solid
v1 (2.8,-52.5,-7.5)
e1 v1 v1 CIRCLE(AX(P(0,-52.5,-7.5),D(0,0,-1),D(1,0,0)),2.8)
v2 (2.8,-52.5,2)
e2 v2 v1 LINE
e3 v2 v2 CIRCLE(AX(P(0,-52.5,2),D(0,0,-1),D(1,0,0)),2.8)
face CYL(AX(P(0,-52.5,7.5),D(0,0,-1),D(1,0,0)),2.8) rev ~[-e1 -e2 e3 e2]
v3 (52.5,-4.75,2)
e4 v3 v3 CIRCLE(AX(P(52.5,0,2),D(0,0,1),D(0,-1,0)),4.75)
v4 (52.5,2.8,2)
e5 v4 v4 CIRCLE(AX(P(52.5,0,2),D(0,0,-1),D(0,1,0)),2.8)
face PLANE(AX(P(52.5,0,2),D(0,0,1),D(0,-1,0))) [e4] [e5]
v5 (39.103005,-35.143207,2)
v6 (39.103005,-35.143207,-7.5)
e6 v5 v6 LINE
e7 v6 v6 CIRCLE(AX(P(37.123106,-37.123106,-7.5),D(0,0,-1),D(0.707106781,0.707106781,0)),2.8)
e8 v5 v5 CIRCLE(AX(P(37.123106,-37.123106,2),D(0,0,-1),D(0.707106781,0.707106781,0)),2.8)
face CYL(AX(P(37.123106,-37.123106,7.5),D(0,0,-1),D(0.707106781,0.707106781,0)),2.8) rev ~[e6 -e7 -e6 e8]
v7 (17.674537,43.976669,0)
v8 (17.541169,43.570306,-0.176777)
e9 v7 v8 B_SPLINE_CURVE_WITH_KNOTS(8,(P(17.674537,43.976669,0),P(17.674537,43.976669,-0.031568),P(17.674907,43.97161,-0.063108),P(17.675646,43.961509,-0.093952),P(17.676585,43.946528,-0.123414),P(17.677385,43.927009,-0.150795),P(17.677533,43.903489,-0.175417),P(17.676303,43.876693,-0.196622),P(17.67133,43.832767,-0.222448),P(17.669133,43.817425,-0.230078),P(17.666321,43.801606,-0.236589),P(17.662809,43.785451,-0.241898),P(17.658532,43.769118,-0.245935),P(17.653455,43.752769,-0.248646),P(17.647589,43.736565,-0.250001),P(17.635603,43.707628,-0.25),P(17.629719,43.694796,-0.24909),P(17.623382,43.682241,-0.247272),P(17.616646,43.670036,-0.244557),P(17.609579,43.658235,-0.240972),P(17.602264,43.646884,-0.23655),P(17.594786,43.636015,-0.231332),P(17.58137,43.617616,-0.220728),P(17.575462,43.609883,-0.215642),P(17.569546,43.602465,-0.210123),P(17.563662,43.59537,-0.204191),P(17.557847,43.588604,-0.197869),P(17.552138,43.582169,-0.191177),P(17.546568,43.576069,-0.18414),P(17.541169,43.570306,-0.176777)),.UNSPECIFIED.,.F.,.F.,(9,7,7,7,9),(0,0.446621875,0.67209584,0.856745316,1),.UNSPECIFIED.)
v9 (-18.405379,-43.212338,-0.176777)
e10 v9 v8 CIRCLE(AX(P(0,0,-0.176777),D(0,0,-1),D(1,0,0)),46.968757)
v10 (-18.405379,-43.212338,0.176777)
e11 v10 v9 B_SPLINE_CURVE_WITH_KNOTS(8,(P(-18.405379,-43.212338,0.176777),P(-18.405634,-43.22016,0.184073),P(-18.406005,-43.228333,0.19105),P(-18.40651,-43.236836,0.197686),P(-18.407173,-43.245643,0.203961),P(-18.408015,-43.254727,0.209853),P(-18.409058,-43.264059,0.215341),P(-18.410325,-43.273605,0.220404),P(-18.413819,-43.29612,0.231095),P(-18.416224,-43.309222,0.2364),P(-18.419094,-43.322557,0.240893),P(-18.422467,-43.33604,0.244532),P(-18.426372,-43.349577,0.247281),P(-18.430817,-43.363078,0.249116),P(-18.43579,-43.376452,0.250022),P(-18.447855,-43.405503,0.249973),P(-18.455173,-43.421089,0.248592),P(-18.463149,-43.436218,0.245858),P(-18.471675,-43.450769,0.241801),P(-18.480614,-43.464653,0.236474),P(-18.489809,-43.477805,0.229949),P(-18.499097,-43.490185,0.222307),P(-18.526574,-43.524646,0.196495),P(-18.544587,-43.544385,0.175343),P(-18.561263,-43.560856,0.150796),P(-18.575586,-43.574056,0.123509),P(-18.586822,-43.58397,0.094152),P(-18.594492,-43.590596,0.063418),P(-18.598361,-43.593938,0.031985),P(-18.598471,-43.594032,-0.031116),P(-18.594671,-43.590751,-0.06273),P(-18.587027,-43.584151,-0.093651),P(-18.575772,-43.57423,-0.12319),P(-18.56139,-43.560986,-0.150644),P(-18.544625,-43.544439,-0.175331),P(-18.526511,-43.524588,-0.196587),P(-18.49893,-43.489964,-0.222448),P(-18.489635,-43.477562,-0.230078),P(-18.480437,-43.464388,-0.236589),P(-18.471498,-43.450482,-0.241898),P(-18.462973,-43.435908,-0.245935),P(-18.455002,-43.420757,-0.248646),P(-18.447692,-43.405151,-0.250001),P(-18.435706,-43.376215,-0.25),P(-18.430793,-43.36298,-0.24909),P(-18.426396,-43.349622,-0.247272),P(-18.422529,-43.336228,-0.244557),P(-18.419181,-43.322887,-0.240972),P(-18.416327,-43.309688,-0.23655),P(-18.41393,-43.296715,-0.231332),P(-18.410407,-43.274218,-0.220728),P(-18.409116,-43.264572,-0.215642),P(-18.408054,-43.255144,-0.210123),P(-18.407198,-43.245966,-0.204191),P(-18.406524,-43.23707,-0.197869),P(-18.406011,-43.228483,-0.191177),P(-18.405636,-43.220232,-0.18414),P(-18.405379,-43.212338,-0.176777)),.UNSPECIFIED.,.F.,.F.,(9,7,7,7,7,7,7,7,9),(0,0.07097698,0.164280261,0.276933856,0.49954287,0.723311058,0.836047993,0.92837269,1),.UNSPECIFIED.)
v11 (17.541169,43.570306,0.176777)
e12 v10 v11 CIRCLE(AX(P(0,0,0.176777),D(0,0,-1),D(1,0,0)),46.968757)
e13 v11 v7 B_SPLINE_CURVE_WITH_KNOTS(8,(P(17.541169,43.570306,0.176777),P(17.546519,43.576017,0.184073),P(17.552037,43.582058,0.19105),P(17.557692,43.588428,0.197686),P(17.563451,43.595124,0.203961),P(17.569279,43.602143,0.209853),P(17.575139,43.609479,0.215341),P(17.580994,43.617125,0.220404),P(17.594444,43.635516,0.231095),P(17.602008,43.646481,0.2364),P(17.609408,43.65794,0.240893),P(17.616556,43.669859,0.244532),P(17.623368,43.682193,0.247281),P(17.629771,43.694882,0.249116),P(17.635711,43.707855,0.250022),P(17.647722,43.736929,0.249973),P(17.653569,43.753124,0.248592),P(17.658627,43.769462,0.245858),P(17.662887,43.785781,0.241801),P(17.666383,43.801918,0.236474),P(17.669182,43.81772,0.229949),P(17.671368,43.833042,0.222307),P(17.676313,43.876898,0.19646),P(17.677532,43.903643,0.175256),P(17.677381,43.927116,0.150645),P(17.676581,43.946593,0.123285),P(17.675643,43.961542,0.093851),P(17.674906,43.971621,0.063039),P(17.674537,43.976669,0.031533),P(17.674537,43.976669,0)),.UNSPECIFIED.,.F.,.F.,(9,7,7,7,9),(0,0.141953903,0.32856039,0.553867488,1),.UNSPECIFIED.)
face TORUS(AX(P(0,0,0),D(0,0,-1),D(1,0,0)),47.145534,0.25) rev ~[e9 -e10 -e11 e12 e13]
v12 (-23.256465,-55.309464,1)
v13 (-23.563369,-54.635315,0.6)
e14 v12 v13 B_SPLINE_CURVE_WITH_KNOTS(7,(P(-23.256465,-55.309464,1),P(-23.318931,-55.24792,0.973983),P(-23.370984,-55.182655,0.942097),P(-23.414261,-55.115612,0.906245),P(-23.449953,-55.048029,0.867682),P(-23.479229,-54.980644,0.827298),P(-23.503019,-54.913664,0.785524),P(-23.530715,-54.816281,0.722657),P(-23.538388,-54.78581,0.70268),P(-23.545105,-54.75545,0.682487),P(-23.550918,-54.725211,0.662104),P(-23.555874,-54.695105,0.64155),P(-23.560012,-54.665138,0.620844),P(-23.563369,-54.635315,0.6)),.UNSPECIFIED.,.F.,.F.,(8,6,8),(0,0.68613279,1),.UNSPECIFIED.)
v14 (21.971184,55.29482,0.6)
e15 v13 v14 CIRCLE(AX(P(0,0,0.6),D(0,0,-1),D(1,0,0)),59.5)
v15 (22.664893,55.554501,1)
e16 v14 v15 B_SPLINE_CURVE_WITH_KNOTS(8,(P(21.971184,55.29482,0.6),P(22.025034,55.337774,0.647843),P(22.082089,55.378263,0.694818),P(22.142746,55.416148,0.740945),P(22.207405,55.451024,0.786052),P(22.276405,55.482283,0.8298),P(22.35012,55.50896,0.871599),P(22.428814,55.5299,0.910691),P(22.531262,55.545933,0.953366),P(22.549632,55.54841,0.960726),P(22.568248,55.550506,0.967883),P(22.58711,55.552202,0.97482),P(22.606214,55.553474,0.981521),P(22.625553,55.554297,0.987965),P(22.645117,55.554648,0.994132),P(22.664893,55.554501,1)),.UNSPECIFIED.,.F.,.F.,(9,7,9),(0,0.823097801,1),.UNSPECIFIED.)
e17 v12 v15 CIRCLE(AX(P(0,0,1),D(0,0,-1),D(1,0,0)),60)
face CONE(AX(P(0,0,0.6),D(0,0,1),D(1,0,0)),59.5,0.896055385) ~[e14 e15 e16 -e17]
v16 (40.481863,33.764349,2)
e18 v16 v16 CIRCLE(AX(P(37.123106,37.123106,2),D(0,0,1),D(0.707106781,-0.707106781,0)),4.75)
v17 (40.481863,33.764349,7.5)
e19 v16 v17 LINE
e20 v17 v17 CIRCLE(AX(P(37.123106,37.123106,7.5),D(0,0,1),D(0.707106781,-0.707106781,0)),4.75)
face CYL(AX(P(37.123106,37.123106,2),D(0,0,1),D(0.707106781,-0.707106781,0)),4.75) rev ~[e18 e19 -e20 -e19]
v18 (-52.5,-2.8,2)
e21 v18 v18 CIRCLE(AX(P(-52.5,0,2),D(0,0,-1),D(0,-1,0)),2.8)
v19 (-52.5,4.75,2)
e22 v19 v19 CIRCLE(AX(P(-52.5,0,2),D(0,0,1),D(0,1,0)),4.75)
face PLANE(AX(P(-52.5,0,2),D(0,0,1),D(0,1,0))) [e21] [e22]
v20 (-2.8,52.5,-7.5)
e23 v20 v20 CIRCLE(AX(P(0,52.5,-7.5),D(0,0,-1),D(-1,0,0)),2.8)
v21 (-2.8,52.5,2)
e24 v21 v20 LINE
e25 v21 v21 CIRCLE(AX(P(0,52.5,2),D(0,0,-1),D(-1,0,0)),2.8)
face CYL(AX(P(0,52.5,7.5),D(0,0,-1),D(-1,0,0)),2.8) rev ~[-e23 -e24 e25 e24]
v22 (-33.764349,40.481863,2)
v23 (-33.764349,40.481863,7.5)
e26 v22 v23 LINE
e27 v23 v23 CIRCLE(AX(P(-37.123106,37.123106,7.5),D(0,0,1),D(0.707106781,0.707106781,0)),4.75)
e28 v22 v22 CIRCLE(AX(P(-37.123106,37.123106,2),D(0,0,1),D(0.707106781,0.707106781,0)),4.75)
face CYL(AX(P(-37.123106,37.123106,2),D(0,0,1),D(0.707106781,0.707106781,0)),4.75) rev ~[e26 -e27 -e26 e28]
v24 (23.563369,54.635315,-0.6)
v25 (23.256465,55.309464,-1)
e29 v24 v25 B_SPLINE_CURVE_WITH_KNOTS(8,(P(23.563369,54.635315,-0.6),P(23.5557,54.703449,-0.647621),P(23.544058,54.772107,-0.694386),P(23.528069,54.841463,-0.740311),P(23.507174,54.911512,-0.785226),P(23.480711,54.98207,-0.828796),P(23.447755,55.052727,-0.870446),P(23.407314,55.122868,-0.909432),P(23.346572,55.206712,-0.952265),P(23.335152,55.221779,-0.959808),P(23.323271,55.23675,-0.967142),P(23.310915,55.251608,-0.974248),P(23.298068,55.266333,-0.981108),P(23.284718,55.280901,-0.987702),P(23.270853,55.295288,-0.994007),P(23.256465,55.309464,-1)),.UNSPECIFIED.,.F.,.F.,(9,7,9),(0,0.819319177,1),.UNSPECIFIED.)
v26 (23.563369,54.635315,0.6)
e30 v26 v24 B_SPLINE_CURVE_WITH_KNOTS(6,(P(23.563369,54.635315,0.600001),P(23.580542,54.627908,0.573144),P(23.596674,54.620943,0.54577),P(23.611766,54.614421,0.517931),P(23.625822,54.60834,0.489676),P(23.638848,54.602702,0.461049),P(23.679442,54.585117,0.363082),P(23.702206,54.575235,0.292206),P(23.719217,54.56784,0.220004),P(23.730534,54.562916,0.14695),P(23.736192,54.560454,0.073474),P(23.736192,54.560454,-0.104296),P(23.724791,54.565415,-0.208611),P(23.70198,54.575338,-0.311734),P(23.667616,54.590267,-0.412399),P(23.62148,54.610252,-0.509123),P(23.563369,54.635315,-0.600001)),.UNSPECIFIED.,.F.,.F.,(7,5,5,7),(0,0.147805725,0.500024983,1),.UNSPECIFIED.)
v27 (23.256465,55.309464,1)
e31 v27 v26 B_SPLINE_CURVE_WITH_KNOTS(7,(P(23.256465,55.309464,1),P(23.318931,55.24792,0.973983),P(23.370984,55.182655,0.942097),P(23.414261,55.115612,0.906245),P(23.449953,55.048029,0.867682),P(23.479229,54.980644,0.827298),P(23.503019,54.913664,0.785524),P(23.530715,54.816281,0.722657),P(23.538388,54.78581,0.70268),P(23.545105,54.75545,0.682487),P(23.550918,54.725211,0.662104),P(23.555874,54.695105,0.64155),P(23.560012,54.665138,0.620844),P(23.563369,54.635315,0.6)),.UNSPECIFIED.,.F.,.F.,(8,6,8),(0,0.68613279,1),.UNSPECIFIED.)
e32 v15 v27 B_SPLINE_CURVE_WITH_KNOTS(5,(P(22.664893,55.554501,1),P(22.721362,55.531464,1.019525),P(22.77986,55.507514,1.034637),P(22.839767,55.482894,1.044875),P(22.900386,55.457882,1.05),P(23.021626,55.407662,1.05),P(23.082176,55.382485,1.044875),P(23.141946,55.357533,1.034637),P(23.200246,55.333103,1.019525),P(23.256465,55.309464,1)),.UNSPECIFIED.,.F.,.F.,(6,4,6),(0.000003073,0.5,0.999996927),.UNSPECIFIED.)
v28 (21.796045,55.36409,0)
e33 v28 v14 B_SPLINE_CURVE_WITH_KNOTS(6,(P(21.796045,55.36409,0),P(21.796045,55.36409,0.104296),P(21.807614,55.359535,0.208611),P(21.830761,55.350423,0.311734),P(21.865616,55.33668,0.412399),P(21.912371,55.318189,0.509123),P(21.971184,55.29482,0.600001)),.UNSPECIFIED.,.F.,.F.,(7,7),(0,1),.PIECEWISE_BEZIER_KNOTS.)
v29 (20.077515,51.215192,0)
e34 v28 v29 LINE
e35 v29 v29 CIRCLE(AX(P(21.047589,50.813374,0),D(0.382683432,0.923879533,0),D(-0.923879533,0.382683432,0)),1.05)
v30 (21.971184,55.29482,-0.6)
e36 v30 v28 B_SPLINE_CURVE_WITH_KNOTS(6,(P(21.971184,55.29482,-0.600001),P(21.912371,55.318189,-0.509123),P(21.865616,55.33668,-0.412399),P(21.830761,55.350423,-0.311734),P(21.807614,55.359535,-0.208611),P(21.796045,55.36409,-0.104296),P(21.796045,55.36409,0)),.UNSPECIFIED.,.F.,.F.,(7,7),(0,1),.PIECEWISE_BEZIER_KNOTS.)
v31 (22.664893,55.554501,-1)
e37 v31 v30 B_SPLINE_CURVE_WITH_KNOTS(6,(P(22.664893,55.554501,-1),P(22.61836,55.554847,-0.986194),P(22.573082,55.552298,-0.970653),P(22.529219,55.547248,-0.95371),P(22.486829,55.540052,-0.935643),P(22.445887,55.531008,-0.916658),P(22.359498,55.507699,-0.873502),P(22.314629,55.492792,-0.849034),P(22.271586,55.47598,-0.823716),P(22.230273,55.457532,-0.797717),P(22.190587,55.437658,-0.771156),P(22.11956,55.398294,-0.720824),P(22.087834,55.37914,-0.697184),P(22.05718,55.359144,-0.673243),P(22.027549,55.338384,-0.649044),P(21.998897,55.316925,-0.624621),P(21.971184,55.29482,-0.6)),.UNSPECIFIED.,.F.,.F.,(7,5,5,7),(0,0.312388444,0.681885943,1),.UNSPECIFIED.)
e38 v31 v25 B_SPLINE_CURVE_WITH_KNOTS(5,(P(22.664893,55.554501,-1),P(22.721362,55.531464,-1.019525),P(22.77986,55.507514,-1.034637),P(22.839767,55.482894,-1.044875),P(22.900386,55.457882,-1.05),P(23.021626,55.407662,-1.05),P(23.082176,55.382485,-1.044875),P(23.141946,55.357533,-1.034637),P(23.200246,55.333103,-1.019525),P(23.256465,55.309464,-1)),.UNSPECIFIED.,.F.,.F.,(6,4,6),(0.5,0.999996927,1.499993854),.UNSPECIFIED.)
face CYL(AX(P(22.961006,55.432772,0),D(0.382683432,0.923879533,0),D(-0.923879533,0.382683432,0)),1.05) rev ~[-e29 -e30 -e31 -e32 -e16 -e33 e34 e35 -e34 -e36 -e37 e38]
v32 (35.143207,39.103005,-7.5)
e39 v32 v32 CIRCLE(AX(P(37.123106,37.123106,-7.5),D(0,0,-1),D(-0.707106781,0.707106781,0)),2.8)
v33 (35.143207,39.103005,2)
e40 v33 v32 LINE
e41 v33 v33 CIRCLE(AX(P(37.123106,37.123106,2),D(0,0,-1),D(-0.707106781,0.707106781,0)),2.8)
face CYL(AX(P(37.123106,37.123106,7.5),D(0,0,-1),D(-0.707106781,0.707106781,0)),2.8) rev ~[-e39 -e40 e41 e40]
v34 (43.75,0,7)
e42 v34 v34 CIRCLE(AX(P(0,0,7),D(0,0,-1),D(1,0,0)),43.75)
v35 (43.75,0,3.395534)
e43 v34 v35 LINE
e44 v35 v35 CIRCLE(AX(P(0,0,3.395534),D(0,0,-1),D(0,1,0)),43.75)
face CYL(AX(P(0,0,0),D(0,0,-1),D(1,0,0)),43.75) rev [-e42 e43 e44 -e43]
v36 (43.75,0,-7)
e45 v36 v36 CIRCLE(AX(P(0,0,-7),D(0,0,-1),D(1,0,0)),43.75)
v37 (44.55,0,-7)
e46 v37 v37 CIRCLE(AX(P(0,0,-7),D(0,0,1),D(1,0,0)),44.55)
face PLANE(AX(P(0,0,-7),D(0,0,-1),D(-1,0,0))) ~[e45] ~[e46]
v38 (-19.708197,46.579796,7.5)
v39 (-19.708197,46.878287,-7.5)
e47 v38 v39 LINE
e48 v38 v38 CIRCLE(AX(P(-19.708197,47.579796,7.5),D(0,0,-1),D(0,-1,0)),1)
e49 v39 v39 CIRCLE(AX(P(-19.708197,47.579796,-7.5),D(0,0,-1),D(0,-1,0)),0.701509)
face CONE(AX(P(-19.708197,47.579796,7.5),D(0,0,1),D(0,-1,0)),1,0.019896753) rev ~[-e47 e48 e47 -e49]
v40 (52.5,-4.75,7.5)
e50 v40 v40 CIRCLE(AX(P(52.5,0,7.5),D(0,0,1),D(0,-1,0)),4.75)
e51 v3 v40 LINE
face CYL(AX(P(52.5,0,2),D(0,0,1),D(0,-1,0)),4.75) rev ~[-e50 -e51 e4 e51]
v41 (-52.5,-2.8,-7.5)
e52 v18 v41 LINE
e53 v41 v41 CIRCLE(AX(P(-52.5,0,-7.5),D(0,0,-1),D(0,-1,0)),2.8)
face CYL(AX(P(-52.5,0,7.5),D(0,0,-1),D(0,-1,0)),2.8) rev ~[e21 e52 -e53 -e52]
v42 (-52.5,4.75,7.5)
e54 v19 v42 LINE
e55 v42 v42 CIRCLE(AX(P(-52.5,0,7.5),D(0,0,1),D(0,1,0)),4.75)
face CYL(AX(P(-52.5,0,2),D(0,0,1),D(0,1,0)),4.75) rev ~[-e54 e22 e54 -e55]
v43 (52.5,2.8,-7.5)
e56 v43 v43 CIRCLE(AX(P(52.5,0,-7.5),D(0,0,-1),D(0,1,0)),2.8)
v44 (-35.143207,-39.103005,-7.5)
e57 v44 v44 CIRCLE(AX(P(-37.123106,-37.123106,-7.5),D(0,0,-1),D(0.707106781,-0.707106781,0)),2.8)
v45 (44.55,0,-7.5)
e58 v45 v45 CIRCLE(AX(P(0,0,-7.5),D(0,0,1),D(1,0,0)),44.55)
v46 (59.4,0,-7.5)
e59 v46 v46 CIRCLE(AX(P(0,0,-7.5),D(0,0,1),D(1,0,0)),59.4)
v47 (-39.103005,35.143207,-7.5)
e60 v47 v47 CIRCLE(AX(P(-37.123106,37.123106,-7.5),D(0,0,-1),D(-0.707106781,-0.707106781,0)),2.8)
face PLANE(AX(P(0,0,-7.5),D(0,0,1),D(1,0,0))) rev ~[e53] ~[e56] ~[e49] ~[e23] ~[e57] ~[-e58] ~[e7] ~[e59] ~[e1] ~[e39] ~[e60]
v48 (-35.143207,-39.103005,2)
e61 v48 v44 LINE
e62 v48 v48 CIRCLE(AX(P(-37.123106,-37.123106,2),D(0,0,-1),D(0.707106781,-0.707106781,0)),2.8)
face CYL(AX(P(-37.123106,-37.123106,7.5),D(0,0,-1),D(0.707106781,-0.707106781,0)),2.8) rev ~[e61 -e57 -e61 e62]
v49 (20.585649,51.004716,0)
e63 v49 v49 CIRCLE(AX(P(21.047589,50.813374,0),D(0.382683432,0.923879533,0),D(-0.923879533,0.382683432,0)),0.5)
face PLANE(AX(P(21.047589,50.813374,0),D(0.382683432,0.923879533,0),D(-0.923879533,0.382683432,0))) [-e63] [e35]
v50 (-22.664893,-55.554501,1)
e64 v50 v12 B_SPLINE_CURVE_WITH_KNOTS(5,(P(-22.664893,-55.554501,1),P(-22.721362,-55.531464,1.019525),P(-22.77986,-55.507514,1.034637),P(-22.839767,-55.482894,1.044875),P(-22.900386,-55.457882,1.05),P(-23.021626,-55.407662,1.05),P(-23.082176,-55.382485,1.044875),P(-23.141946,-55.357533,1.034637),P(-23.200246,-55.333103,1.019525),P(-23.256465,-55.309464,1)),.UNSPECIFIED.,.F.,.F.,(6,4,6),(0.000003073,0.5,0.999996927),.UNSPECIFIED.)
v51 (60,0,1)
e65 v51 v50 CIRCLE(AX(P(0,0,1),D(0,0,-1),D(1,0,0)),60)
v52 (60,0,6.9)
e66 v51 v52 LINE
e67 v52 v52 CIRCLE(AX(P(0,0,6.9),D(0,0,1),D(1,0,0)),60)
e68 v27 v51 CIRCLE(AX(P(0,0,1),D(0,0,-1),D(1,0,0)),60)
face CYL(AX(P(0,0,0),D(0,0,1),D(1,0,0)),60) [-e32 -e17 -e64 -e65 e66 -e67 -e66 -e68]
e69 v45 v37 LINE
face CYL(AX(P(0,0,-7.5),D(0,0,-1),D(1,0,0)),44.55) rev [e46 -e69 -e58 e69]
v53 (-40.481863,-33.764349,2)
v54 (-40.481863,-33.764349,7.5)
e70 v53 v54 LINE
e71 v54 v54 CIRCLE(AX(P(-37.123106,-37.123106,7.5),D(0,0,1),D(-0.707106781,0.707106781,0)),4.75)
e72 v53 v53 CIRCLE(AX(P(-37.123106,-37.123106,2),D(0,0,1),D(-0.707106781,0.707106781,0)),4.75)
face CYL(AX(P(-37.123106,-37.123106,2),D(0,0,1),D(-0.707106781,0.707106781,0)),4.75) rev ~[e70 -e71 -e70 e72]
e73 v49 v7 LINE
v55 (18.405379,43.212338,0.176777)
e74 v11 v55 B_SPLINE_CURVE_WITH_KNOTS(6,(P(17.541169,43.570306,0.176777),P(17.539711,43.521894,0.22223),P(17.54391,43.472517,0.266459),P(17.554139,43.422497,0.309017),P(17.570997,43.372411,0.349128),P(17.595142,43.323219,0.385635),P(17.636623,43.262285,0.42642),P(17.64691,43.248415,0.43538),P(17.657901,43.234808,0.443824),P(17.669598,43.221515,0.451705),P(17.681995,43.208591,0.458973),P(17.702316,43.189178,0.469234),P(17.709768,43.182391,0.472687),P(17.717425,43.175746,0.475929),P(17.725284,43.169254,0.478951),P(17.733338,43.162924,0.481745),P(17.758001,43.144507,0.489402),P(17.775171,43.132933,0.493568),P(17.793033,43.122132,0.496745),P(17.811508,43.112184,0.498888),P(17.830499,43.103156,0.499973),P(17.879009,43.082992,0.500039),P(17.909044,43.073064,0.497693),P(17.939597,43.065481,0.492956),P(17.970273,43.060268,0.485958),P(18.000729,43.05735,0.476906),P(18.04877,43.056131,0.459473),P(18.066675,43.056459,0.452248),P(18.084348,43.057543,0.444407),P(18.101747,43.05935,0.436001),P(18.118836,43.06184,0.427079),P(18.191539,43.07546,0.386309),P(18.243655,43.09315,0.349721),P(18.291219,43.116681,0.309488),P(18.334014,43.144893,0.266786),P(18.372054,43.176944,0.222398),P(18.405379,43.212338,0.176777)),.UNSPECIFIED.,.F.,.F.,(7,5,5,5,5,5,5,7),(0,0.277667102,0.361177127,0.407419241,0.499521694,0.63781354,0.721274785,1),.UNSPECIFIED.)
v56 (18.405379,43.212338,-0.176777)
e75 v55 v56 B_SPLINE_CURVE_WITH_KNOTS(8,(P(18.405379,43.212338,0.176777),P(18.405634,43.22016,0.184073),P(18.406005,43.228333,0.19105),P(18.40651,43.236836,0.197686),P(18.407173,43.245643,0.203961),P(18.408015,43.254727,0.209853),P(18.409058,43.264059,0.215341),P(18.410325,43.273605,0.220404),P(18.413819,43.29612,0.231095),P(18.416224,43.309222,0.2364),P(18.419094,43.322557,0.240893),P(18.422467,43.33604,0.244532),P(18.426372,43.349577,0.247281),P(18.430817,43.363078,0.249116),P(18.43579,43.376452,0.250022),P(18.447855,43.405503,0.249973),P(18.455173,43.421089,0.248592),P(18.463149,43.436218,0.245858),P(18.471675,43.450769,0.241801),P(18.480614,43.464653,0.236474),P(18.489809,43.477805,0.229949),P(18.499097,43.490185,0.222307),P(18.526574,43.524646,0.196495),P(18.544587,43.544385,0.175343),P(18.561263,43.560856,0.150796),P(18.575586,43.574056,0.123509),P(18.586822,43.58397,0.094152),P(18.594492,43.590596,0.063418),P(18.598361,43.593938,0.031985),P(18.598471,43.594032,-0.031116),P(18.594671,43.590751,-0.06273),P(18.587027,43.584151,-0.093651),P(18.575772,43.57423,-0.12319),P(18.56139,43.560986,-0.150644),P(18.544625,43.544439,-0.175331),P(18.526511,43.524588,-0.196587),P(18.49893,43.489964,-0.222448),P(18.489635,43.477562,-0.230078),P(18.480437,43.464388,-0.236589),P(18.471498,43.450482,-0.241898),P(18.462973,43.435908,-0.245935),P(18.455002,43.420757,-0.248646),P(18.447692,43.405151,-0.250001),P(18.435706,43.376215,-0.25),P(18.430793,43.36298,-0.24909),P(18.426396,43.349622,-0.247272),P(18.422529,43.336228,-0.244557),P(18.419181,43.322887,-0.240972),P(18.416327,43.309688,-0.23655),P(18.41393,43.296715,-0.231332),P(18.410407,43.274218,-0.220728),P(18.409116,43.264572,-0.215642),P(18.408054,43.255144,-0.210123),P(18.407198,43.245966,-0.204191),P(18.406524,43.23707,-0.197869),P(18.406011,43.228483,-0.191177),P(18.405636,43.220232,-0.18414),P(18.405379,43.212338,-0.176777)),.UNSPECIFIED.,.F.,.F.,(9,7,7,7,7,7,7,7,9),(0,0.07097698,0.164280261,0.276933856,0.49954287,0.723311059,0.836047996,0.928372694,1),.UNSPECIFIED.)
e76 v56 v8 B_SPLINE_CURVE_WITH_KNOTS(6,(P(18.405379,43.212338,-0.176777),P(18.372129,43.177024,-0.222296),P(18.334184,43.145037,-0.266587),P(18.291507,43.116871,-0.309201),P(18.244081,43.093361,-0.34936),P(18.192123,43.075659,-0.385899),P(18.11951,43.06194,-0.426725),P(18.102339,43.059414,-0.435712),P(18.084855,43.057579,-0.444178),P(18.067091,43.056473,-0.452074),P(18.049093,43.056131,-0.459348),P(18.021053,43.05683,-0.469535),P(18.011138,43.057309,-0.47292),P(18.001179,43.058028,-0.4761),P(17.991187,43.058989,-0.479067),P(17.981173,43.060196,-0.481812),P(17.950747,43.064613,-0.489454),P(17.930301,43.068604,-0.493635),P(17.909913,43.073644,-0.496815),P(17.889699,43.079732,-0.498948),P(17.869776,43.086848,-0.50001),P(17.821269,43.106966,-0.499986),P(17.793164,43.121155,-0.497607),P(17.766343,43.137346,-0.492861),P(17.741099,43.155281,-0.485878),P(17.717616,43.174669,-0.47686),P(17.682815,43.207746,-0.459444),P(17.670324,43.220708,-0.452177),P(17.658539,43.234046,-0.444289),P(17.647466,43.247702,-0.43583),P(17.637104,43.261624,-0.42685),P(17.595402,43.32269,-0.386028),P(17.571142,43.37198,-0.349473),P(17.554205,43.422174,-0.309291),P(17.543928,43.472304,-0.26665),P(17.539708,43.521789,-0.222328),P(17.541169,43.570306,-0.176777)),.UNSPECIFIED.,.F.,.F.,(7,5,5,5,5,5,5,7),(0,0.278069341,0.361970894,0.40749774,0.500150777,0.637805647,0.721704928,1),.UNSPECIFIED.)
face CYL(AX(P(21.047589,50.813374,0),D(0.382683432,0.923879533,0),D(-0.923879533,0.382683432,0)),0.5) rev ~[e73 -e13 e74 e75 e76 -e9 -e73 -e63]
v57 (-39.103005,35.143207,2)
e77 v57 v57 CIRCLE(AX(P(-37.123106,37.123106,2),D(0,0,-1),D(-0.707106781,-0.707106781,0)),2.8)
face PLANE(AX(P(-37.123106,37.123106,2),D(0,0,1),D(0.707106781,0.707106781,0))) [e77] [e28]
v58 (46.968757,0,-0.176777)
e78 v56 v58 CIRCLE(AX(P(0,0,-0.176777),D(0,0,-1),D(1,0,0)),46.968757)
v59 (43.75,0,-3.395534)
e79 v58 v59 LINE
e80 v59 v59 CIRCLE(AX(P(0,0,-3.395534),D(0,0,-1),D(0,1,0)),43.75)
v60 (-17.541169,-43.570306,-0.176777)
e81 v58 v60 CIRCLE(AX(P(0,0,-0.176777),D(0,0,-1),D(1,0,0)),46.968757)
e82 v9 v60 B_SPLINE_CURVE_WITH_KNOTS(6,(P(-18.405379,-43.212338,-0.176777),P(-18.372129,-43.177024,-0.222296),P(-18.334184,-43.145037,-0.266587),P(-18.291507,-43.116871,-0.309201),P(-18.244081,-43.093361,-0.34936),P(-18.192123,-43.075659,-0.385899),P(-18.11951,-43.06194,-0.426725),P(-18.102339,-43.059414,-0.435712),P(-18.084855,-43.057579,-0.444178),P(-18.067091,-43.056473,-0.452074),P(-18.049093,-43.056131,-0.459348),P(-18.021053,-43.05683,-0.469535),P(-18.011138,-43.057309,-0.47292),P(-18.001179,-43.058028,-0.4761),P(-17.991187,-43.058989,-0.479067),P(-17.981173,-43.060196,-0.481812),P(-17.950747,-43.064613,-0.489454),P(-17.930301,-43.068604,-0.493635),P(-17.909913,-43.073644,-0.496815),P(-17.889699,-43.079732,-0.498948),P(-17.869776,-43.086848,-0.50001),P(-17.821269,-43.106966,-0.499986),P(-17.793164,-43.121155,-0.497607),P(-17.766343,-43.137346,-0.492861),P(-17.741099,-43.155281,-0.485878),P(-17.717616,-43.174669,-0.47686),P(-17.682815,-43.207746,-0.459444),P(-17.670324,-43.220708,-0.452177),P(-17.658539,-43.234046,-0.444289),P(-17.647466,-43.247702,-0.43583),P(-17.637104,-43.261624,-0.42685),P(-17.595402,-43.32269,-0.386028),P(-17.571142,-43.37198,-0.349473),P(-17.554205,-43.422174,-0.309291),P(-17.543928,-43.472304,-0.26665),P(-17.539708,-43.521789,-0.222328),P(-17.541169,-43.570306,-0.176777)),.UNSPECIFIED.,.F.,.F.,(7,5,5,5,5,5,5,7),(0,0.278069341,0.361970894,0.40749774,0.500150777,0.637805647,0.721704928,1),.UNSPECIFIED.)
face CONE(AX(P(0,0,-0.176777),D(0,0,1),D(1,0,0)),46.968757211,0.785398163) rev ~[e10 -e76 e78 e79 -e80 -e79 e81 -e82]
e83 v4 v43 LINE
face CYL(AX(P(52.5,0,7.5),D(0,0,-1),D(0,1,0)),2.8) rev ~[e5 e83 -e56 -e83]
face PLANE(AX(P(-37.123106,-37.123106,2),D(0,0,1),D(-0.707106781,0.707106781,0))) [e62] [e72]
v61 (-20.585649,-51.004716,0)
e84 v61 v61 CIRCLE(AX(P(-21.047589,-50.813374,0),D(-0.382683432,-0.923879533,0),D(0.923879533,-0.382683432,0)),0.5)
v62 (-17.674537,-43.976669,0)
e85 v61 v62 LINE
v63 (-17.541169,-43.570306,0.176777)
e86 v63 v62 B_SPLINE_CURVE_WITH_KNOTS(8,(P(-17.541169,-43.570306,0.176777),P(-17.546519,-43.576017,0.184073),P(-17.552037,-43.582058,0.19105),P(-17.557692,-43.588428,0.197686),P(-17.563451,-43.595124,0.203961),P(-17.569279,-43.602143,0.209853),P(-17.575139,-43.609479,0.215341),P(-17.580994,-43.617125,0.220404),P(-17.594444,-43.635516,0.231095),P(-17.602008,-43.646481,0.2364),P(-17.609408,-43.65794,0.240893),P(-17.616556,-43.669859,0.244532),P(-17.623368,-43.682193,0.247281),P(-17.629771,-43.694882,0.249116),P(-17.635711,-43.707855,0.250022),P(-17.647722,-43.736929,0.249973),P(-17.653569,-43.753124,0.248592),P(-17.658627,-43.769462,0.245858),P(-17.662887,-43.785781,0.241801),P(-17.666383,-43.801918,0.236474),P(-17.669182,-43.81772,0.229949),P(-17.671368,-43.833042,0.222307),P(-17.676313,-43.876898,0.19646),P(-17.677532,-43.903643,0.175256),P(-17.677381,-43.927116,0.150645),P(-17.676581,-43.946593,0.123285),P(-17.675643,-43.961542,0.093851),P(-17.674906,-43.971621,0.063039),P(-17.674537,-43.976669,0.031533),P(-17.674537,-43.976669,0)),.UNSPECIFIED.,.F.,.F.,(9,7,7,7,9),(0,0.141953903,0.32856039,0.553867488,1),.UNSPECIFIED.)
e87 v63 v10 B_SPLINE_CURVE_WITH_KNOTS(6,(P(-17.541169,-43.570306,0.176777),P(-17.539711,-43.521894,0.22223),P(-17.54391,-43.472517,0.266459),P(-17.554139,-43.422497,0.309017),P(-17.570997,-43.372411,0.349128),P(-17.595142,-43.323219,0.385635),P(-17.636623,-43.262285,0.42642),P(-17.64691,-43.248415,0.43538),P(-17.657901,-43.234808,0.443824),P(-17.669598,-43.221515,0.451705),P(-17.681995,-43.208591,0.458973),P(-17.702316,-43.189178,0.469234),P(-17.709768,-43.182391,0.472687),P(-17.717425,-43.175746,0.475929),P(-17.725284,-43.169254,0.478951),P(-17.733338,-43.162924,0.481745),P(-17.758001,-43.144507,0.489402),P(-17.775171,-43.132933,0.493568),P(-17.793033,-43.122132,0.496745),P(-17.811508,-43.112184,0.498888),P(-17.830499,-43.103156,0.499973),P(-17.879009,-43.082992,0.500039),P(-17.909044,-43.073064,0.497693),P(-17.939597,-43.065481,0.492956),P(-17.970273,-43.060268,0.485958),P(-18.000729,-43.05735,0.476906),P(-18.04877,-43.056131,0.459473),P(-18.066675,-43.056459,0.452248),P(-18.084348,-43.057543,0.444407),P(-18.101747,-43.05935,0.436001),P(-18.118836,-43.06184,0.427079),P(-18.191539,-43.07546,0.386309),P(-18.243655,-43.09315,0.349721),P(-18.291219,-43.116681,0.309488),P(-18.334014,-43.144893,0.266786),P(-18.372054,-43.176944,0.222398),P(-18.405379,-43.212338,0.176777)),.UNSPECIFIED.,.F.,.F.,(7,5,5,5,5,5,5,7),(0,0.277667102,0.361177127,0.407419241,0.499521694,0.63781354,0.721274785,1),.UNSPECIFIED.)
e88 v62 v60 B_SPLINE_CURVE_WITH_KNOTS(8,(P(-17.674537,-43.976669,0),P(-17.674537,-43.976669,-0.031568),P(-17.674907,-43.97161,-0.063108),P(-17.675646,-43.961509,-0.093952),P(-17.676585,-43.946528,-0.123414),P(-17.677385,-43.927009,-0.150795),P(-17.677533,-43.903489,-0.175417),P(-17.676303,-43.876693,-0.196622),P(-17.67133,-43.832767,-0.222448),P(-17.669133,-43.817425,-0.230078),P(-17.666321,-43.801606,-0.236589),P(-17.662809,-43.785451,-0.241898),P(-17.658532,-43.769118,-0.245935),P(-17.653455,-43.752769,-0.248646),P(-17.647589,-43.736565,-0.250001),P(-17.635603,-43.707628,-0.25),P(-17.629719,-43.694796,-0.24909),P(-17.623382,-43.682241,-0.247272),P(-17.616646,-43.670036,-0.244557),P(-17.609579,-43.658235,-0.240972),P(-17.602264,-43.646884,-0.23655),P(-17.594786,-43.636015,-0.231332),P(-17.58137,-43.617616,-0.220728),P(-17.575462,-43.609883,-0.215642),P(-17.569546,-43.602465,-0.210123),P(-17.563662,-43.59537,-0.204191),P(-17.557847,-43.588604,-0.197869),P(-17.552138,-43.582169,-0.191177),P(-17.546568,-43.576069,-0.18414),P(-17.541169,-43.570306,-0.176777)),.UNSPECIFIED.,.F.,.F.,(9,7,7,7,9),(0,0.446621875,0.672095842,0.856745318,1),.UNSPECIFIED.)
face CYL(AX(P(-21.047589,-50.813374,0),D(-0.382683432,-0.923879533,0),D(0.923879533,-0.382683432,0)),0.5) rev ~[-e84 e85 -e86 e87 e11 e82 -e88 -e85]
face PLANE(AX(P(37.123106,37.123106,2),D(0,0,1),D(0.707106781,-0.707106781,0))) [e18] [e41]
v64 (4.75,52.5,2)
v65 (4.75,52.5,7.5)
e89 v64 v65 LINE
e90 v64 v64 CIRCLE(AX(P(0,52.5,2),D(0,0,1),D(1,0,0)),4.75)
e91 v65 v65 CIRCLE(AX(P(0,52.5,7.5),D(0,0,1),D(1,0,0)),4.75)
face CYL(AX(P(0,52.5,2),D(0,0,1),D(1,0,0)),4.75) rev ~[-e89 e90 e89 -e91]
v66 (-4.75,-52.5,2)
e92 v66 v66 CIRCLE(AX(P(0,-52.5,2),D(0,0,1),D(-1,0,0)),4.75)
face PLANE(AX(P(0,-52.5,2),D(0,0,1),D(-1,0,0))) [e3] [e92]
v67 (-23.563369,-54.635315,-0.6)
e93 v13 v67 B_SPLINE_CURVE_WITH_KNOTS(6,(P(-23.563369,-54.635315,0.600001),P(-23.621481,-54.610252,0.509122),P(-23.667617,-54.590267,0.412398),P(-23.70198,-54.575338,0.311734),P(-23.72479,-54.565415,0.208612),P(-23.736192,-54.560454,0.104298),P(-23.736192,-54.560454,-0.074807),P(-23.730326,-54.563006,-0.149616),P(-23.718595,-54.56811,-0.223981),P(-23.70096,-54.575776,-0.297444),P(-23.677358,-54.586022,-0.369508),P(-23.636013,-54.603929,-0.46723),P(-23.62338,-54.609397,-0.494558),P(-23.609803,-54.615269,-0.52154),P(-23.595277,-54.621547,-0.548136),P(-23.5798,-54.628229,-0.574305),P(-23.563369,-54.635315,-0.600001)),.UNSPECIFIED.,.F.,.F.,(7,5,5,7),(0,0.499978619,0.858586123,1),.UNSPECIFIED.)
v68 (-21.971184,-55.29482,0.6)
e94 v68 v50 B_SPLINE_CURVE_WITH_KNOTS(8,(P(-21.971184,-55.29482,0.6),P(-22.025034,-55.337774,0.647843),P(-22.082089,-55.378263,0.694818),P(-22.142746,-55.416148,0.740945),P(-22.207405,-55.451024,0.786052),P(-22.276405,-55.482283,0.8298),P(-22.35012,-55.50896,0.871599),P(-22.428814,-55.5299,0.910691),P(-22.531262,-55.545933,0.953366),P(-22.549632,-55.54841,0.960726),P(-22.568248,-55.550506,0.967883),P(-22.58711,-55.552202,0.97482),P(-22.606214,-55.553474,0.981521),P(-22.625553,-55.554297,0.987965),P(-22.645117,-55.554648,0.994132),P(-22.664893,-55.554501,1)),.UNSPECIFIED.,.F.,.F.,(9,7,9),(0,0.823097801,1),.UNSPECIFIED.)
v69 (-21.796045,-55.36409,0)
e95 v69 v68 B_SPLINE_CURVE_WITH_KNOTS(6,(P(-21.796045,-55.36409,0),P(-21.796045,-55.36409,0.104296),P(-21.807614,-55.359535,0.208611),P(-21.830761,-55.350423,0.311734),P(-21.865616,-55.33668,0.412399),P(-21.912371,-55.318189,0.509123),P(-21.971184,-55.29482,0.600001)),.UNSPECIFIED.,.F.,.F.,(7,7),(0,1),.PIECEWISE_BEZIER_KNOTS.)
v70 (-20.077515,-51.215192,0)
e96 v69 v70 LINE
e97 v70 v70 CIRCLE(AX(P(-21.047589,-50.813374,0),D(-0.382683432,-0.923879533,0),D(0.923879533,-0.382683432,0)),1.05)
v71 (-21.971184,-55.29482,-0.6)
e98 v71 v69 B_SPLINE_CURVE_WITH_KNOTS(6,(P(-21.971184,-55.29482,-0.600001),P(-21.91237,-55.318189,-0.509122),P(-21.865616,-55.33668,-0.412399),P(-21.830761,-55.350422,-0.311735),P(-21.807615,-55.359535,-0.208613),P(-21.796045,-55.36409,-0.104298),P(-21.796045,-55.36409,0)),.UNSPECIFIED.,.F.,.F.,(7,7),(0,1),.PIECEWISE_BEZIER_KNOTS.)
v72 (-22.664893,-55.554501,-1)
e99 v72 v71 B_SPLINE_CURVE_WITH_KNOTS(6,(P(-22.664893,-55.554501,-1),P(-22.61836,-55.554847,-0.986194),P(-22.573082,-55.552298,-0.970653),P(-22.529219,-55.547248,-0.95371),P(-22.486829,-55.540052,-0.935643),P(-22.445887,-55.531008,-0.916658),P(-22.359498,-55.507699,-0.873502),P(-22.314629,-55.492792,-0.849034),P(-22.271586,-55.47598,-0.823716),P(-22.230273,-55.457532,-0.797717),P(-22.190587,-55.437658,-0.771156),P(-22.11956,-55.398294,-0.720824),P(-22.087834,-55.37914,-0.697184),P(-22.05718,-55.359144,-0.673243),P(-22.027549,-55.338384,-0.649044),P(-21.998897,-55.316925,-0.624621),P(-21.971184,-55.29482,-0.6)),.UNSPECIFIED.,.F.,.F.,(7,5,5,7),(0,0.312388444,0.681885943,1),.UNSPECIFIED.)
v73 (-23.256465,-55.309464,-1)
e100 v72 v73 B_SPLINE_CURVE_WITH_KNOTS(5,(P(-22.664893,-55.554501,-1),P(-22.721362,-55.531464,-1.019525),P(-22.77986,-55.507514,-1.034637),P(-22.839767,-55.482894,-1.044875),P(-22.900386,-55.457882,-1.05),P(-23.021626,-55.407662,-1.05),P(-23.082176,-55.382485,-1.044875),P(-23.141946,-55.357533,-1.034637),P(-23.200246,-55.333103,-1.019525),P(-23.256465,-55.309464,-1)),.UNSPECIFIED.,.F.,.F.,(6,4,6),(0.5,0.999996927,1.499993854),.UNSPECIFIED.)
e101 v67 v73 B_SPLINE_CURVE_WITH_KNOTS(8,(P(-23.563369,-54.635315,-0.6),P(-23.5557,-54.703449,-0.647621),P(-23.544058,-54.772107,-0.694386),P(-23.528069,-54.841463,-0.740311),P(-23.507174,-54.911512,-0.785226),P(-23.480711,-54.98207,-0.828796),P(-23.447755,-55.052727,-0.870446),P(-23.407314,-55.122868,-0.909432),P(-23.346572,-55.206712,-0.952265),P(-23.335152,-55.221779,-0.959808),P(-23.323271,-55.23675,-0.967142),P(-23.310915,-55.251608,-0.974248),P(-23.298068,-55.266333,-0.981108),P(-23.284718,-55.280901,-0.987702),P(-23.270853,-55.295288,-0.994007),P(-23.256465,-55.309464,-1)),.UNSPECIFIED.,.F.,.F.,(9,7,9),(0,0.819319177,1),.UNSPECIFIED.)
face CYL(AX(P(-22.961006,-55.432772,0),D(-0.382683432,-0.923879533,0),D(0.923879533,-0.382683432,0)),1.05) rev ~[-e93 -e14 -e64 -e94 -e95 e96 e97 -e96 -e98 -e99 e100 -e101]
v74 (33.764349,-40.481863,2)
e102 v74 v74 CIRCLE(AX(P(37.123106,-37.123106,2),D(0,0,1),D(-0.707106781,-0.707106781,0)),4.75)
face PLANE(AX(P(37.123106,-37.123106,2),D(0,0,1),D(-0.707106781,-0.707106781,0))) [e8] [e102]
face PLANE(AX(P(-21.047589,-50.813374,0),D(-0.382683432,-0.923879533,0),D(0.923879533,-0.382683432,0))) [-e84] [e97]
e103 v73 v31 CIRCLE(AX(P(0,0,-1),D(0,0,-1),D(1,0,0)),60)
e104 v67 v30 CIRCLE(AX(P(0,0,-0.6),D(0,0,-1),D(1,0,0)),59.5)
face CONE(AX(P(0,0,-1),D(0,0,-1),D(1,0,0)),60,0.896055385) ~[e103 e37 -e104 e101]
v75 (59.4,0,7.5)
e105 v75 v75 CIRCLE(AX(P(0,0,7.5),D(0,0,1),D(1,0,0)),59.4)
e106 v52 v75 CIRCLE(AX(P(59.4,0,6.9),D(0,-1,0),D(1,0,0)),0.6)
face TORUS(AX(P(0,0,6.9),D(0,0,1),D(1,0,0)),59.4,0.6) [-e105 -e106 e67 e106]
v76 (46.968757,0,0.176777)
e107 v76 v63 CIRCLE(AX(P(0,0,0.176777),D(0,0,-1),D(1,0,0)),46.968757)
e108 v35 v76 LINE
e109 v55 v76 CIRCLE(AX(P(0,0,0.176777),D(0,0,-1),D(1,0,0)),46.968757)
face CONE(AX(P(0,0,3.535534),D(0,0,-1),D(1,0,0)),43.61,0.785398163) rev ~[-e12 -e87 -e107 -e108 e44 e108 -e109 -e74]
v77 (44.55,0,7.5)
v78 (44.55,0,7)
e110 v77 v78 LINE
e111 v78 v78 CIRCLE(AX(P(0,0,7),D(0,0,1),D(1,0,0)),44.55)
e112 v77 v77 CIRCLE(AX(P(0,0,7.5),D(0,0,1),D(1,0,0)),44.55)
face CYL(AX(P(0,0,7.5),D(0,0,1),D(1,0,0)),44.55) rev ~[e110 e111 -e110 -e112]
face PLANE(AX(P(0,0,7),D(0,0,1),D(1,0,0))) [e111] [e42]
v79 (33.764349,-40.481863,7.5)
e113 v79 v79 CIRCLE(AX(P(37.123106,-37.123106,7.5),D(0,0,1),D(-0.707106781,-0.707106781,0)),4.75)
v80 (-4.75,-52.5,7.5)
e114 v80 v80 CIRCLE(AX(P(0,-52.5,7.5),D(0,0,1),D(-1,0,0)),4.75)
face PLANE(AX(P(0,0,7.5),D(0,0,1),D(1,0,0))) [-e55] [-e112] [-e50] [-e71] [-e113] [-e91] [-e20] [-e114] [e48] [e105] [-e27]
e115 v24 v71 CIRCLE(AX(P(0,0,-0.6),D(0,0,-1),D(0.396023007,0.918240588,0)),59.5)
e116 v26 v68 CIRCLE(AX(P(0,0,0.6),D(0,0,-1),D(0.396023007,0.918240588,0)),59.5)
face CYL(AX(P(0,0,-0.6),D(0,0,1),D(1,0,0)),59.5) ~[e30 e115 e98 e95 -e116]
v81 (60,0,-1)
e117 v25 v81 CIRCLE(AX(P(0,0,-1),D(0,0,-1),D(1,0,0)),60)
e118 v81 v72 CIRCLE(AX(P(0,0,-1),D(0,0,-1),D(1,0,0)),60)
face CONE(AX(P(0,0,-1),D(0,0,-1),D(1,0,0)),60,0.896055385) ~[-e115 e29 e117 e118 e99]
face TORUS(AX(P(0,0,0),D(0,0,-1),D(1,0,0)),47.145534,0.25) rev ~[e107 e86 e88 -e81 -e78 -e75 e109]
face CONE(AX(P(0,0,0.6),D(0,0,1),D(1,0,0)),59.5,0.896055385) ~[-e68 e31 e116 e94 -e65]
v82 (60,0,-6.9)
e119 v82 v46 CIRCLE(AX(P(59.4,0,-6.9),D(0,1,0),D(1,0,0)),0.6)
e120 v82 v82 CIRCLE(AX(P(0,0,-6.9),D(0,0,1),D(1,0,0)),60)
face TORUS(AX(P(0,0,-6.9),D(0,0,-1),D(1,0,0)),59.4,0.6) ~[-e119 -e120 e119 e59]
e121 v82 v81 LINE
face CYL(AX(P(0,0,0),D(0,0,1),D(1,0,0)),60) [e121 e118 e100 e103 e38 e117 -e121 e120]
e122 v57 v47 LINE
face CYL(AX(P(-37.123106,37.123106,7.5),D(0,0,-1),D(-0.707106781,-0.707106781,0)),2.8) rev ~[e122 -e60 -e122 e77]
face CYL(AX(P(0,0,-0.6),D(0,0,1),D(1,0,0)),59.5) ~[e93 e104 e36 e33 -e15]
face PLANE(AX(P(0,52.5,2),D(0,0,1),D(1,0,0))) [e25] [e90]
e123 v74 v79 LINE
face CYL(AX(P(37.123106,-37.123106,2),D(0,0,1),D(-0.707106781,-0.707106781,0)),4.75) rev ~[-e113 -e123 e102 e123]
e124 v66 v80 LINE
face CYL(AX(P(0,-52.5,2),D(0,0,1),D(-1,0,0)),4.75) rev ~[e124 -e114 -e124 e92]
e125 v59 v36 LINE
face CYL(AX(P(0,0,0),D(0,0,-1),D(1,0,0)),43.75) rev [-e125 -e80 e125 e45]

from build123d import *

# Parameters (mm, degrees)
SKETCH_1_R                     = 60
SKETCH_1_R_2                   = 43.75
EXTRUDE_1_DEPTH                = 7.5
FILLET_1_R                     = 0.6
HOLE_WIZARD_M1_6_1_D           = 5.6
HOLE_WIZARD_M1_6_1_CBORE_D     = 9.5
HOLE_WIZARD_M1_6_1_CBORE_DEPTH = 5.5
PATTERN_CIRCULAR_1_COUNT       = 8
CUT_EXTRUDE_START              = 60
SKETCH_7_R                     = 1.05
CUT_EXTRUDE_1_DEPTH            = 5
SKETCH_8_R                     = 0.5
CUT_EXTRUDE_2_DEPTH            = 15
PATTERN_CIRCULAR_2_COUNT       = 2
SKETCH_9_R                     = 44.55
CUT_EXTRUDE_3_DEPTH            = 0.5


with BuildPart() as part:
    # 草图1 → 凸台-拉伸1 (new, symmetric)
    with BuildSketch(Plane.XY):
        Circle(SKETCH_1_R)
        Circle(SKETCH_1_R_2, mode=Mode.SUBTRACT)
    extrude(amount=EXTRUDE_1_DEPTH, both=True)

    # 草图2 → 切除-旋转1 (revolve, cut)
    with BuildSketch(Plane(origin=(0, 0, 0), x_dir=(0, 0, -1), z_dir=(1, 0, 0))):
        with BuildLine():
            Line((-3.535533906, 43.61), (-0.176776695, 46.968757211))
            ThreePointArc((-0.176776695, 46.968757211), (0, 47.395533906), (0.176776695, 46.968757211))
            Line((0.176776695, 46.968757211), (3.535533906, 43.61))
            Line((3.535533906, 43.61), (-3.535533906, 43.61))
        make_face()
        Polygon((-1, 60), (1, 60), (0.6, 59.5), (-0.6, 59.5), align=None)
    revolve(axis=Axis((0, 0, 12.553599724), (0, 0, -1)), mode=Mode.SUBTRACT)

    # 圆角1
    fillet_1_edges = [part.edges().sort_by_distance(p)[0] for p in [
        (-60, 0, -7.5),
        (-60, 0, 7.5),
    ]]
    fillet(fillet_1_edges, radius=FILLET_1_R)

    # M1.6 六角头螺栓的柱形沉头孔1 (through all)
    with Locations(Plane.XY.offset(7.5)):
        with Locations((0, 52.5)):
            hole_wizard_m1_6_1 = CounterBoreHole(HOLE_WIZARD_M1_6_1_D / 2, HOLE_WIZARD_M1_6_1_CBORE_D / 2, HOLE_WIZARD_M1_6_1_CBORE_DEPTH)

    # 阵列(圆周)1: M1.6 六角头螺栓的柱形沉头孔1 ×8 about axis
    pattern_circular_1_axis = Axis((0, 0, 7.5), (0, 0, -1))
    for i in range(1, PATTERN_CIRCULAR_1_COUNT):
        add(hole_wizard_m1_6_1.rotate(pattern_circular_1_axis, i * 360 / PATTERN_CIRCULAR_1_COUNT), mode=Mode.SUBTRACT)

    # 草图7 → 切除-拉伸1 (cut)
    with BuildSketch(Plane(origin=(0, 0, 0), x_dir=(0, 0, -1), z_dir=(0.3826834323650906, 0.9238795325112865, 0)).offset(CUT_EXTRUDE_START)):
        Circle(SKETCH_7_R)
    cut_extrude_1 = extrude(amount=-CUT_EXTRUDE_1_DEPTH, mode=Mode.SUBTRACT)

    # 草图8 → 切除-拉伸2 (cut)
    with BuildSketch(Plane(origin=(21.04758878, 50.813374288, 0), x_dir=(0.9238795325112864, -0.38268343236509067, 0), z_dir=(0.38268343236509067, 0.9238795325112864, 0))):
        Circle(SKETCH_8_R)
    cut_extrude_2 = extrude(amount=-CUT_EXTRUDE_2_DEPTH, mode=Mode.SUBTRACT)

    # 阵列(圆周)2: 切除-拉伸1, 切除-拉伸2 ×2 about axis
    pattern_circular_2_axis = Axis((0, 0, 7.5), (0, 0, -1))
    add([cut_extrude_1.rotate(pattern_circular_2_axis, i * 360 / PATTERN_CIRCULAR_2_COUNT) for i in range(1, PATTERN_CIRCULAR_2_COUNT)], mode=Mode.SUBTRACT)
    add([cut_extrude_2.rotate(pattern_circular_2_axis, i * 360 / PATTERN_CIRCULAR_2_COUNT) for i in range(1, PATTERN_CIRCULAR_2_COUNT)], mode=Mode.SUBTRACT)

    # 草图9 → 切除-拉伸3 (cut)
    with BuildSketch(Plane.XY.offset(7.5)):
        Circle(SKETCH_9_R)
    cut_extrude_3 = extrude(amount=-CUT_EXTRUDE_3_DEPTH, mode=Mode.SUBTRACT)

    # 镜向1: 切除-拉伸3 across plane
    add(cut_extrude_3.mirror(Plane.XY), mode=Mode.SUBTRACT)

    # 切除-拉伸4 cone 1 section (through the dimple's axis) → 切除-拉伸4 (revolve, cut)
    with BuildSketch(Plane(origin=(-19.708196767, 47.579795924, 7.5), x_dir=(0, -1, 0), z_dir=(1, 0, 0))):
        Polygon((0, 0), (1, 0), (0, 50.252823287), align=None)
    revolve(axis=Axis((-19.708196767, 47.579795924, 7.5), (0, 0, -1)), mode=Mode.SUBTRACT)


solid = part.part
